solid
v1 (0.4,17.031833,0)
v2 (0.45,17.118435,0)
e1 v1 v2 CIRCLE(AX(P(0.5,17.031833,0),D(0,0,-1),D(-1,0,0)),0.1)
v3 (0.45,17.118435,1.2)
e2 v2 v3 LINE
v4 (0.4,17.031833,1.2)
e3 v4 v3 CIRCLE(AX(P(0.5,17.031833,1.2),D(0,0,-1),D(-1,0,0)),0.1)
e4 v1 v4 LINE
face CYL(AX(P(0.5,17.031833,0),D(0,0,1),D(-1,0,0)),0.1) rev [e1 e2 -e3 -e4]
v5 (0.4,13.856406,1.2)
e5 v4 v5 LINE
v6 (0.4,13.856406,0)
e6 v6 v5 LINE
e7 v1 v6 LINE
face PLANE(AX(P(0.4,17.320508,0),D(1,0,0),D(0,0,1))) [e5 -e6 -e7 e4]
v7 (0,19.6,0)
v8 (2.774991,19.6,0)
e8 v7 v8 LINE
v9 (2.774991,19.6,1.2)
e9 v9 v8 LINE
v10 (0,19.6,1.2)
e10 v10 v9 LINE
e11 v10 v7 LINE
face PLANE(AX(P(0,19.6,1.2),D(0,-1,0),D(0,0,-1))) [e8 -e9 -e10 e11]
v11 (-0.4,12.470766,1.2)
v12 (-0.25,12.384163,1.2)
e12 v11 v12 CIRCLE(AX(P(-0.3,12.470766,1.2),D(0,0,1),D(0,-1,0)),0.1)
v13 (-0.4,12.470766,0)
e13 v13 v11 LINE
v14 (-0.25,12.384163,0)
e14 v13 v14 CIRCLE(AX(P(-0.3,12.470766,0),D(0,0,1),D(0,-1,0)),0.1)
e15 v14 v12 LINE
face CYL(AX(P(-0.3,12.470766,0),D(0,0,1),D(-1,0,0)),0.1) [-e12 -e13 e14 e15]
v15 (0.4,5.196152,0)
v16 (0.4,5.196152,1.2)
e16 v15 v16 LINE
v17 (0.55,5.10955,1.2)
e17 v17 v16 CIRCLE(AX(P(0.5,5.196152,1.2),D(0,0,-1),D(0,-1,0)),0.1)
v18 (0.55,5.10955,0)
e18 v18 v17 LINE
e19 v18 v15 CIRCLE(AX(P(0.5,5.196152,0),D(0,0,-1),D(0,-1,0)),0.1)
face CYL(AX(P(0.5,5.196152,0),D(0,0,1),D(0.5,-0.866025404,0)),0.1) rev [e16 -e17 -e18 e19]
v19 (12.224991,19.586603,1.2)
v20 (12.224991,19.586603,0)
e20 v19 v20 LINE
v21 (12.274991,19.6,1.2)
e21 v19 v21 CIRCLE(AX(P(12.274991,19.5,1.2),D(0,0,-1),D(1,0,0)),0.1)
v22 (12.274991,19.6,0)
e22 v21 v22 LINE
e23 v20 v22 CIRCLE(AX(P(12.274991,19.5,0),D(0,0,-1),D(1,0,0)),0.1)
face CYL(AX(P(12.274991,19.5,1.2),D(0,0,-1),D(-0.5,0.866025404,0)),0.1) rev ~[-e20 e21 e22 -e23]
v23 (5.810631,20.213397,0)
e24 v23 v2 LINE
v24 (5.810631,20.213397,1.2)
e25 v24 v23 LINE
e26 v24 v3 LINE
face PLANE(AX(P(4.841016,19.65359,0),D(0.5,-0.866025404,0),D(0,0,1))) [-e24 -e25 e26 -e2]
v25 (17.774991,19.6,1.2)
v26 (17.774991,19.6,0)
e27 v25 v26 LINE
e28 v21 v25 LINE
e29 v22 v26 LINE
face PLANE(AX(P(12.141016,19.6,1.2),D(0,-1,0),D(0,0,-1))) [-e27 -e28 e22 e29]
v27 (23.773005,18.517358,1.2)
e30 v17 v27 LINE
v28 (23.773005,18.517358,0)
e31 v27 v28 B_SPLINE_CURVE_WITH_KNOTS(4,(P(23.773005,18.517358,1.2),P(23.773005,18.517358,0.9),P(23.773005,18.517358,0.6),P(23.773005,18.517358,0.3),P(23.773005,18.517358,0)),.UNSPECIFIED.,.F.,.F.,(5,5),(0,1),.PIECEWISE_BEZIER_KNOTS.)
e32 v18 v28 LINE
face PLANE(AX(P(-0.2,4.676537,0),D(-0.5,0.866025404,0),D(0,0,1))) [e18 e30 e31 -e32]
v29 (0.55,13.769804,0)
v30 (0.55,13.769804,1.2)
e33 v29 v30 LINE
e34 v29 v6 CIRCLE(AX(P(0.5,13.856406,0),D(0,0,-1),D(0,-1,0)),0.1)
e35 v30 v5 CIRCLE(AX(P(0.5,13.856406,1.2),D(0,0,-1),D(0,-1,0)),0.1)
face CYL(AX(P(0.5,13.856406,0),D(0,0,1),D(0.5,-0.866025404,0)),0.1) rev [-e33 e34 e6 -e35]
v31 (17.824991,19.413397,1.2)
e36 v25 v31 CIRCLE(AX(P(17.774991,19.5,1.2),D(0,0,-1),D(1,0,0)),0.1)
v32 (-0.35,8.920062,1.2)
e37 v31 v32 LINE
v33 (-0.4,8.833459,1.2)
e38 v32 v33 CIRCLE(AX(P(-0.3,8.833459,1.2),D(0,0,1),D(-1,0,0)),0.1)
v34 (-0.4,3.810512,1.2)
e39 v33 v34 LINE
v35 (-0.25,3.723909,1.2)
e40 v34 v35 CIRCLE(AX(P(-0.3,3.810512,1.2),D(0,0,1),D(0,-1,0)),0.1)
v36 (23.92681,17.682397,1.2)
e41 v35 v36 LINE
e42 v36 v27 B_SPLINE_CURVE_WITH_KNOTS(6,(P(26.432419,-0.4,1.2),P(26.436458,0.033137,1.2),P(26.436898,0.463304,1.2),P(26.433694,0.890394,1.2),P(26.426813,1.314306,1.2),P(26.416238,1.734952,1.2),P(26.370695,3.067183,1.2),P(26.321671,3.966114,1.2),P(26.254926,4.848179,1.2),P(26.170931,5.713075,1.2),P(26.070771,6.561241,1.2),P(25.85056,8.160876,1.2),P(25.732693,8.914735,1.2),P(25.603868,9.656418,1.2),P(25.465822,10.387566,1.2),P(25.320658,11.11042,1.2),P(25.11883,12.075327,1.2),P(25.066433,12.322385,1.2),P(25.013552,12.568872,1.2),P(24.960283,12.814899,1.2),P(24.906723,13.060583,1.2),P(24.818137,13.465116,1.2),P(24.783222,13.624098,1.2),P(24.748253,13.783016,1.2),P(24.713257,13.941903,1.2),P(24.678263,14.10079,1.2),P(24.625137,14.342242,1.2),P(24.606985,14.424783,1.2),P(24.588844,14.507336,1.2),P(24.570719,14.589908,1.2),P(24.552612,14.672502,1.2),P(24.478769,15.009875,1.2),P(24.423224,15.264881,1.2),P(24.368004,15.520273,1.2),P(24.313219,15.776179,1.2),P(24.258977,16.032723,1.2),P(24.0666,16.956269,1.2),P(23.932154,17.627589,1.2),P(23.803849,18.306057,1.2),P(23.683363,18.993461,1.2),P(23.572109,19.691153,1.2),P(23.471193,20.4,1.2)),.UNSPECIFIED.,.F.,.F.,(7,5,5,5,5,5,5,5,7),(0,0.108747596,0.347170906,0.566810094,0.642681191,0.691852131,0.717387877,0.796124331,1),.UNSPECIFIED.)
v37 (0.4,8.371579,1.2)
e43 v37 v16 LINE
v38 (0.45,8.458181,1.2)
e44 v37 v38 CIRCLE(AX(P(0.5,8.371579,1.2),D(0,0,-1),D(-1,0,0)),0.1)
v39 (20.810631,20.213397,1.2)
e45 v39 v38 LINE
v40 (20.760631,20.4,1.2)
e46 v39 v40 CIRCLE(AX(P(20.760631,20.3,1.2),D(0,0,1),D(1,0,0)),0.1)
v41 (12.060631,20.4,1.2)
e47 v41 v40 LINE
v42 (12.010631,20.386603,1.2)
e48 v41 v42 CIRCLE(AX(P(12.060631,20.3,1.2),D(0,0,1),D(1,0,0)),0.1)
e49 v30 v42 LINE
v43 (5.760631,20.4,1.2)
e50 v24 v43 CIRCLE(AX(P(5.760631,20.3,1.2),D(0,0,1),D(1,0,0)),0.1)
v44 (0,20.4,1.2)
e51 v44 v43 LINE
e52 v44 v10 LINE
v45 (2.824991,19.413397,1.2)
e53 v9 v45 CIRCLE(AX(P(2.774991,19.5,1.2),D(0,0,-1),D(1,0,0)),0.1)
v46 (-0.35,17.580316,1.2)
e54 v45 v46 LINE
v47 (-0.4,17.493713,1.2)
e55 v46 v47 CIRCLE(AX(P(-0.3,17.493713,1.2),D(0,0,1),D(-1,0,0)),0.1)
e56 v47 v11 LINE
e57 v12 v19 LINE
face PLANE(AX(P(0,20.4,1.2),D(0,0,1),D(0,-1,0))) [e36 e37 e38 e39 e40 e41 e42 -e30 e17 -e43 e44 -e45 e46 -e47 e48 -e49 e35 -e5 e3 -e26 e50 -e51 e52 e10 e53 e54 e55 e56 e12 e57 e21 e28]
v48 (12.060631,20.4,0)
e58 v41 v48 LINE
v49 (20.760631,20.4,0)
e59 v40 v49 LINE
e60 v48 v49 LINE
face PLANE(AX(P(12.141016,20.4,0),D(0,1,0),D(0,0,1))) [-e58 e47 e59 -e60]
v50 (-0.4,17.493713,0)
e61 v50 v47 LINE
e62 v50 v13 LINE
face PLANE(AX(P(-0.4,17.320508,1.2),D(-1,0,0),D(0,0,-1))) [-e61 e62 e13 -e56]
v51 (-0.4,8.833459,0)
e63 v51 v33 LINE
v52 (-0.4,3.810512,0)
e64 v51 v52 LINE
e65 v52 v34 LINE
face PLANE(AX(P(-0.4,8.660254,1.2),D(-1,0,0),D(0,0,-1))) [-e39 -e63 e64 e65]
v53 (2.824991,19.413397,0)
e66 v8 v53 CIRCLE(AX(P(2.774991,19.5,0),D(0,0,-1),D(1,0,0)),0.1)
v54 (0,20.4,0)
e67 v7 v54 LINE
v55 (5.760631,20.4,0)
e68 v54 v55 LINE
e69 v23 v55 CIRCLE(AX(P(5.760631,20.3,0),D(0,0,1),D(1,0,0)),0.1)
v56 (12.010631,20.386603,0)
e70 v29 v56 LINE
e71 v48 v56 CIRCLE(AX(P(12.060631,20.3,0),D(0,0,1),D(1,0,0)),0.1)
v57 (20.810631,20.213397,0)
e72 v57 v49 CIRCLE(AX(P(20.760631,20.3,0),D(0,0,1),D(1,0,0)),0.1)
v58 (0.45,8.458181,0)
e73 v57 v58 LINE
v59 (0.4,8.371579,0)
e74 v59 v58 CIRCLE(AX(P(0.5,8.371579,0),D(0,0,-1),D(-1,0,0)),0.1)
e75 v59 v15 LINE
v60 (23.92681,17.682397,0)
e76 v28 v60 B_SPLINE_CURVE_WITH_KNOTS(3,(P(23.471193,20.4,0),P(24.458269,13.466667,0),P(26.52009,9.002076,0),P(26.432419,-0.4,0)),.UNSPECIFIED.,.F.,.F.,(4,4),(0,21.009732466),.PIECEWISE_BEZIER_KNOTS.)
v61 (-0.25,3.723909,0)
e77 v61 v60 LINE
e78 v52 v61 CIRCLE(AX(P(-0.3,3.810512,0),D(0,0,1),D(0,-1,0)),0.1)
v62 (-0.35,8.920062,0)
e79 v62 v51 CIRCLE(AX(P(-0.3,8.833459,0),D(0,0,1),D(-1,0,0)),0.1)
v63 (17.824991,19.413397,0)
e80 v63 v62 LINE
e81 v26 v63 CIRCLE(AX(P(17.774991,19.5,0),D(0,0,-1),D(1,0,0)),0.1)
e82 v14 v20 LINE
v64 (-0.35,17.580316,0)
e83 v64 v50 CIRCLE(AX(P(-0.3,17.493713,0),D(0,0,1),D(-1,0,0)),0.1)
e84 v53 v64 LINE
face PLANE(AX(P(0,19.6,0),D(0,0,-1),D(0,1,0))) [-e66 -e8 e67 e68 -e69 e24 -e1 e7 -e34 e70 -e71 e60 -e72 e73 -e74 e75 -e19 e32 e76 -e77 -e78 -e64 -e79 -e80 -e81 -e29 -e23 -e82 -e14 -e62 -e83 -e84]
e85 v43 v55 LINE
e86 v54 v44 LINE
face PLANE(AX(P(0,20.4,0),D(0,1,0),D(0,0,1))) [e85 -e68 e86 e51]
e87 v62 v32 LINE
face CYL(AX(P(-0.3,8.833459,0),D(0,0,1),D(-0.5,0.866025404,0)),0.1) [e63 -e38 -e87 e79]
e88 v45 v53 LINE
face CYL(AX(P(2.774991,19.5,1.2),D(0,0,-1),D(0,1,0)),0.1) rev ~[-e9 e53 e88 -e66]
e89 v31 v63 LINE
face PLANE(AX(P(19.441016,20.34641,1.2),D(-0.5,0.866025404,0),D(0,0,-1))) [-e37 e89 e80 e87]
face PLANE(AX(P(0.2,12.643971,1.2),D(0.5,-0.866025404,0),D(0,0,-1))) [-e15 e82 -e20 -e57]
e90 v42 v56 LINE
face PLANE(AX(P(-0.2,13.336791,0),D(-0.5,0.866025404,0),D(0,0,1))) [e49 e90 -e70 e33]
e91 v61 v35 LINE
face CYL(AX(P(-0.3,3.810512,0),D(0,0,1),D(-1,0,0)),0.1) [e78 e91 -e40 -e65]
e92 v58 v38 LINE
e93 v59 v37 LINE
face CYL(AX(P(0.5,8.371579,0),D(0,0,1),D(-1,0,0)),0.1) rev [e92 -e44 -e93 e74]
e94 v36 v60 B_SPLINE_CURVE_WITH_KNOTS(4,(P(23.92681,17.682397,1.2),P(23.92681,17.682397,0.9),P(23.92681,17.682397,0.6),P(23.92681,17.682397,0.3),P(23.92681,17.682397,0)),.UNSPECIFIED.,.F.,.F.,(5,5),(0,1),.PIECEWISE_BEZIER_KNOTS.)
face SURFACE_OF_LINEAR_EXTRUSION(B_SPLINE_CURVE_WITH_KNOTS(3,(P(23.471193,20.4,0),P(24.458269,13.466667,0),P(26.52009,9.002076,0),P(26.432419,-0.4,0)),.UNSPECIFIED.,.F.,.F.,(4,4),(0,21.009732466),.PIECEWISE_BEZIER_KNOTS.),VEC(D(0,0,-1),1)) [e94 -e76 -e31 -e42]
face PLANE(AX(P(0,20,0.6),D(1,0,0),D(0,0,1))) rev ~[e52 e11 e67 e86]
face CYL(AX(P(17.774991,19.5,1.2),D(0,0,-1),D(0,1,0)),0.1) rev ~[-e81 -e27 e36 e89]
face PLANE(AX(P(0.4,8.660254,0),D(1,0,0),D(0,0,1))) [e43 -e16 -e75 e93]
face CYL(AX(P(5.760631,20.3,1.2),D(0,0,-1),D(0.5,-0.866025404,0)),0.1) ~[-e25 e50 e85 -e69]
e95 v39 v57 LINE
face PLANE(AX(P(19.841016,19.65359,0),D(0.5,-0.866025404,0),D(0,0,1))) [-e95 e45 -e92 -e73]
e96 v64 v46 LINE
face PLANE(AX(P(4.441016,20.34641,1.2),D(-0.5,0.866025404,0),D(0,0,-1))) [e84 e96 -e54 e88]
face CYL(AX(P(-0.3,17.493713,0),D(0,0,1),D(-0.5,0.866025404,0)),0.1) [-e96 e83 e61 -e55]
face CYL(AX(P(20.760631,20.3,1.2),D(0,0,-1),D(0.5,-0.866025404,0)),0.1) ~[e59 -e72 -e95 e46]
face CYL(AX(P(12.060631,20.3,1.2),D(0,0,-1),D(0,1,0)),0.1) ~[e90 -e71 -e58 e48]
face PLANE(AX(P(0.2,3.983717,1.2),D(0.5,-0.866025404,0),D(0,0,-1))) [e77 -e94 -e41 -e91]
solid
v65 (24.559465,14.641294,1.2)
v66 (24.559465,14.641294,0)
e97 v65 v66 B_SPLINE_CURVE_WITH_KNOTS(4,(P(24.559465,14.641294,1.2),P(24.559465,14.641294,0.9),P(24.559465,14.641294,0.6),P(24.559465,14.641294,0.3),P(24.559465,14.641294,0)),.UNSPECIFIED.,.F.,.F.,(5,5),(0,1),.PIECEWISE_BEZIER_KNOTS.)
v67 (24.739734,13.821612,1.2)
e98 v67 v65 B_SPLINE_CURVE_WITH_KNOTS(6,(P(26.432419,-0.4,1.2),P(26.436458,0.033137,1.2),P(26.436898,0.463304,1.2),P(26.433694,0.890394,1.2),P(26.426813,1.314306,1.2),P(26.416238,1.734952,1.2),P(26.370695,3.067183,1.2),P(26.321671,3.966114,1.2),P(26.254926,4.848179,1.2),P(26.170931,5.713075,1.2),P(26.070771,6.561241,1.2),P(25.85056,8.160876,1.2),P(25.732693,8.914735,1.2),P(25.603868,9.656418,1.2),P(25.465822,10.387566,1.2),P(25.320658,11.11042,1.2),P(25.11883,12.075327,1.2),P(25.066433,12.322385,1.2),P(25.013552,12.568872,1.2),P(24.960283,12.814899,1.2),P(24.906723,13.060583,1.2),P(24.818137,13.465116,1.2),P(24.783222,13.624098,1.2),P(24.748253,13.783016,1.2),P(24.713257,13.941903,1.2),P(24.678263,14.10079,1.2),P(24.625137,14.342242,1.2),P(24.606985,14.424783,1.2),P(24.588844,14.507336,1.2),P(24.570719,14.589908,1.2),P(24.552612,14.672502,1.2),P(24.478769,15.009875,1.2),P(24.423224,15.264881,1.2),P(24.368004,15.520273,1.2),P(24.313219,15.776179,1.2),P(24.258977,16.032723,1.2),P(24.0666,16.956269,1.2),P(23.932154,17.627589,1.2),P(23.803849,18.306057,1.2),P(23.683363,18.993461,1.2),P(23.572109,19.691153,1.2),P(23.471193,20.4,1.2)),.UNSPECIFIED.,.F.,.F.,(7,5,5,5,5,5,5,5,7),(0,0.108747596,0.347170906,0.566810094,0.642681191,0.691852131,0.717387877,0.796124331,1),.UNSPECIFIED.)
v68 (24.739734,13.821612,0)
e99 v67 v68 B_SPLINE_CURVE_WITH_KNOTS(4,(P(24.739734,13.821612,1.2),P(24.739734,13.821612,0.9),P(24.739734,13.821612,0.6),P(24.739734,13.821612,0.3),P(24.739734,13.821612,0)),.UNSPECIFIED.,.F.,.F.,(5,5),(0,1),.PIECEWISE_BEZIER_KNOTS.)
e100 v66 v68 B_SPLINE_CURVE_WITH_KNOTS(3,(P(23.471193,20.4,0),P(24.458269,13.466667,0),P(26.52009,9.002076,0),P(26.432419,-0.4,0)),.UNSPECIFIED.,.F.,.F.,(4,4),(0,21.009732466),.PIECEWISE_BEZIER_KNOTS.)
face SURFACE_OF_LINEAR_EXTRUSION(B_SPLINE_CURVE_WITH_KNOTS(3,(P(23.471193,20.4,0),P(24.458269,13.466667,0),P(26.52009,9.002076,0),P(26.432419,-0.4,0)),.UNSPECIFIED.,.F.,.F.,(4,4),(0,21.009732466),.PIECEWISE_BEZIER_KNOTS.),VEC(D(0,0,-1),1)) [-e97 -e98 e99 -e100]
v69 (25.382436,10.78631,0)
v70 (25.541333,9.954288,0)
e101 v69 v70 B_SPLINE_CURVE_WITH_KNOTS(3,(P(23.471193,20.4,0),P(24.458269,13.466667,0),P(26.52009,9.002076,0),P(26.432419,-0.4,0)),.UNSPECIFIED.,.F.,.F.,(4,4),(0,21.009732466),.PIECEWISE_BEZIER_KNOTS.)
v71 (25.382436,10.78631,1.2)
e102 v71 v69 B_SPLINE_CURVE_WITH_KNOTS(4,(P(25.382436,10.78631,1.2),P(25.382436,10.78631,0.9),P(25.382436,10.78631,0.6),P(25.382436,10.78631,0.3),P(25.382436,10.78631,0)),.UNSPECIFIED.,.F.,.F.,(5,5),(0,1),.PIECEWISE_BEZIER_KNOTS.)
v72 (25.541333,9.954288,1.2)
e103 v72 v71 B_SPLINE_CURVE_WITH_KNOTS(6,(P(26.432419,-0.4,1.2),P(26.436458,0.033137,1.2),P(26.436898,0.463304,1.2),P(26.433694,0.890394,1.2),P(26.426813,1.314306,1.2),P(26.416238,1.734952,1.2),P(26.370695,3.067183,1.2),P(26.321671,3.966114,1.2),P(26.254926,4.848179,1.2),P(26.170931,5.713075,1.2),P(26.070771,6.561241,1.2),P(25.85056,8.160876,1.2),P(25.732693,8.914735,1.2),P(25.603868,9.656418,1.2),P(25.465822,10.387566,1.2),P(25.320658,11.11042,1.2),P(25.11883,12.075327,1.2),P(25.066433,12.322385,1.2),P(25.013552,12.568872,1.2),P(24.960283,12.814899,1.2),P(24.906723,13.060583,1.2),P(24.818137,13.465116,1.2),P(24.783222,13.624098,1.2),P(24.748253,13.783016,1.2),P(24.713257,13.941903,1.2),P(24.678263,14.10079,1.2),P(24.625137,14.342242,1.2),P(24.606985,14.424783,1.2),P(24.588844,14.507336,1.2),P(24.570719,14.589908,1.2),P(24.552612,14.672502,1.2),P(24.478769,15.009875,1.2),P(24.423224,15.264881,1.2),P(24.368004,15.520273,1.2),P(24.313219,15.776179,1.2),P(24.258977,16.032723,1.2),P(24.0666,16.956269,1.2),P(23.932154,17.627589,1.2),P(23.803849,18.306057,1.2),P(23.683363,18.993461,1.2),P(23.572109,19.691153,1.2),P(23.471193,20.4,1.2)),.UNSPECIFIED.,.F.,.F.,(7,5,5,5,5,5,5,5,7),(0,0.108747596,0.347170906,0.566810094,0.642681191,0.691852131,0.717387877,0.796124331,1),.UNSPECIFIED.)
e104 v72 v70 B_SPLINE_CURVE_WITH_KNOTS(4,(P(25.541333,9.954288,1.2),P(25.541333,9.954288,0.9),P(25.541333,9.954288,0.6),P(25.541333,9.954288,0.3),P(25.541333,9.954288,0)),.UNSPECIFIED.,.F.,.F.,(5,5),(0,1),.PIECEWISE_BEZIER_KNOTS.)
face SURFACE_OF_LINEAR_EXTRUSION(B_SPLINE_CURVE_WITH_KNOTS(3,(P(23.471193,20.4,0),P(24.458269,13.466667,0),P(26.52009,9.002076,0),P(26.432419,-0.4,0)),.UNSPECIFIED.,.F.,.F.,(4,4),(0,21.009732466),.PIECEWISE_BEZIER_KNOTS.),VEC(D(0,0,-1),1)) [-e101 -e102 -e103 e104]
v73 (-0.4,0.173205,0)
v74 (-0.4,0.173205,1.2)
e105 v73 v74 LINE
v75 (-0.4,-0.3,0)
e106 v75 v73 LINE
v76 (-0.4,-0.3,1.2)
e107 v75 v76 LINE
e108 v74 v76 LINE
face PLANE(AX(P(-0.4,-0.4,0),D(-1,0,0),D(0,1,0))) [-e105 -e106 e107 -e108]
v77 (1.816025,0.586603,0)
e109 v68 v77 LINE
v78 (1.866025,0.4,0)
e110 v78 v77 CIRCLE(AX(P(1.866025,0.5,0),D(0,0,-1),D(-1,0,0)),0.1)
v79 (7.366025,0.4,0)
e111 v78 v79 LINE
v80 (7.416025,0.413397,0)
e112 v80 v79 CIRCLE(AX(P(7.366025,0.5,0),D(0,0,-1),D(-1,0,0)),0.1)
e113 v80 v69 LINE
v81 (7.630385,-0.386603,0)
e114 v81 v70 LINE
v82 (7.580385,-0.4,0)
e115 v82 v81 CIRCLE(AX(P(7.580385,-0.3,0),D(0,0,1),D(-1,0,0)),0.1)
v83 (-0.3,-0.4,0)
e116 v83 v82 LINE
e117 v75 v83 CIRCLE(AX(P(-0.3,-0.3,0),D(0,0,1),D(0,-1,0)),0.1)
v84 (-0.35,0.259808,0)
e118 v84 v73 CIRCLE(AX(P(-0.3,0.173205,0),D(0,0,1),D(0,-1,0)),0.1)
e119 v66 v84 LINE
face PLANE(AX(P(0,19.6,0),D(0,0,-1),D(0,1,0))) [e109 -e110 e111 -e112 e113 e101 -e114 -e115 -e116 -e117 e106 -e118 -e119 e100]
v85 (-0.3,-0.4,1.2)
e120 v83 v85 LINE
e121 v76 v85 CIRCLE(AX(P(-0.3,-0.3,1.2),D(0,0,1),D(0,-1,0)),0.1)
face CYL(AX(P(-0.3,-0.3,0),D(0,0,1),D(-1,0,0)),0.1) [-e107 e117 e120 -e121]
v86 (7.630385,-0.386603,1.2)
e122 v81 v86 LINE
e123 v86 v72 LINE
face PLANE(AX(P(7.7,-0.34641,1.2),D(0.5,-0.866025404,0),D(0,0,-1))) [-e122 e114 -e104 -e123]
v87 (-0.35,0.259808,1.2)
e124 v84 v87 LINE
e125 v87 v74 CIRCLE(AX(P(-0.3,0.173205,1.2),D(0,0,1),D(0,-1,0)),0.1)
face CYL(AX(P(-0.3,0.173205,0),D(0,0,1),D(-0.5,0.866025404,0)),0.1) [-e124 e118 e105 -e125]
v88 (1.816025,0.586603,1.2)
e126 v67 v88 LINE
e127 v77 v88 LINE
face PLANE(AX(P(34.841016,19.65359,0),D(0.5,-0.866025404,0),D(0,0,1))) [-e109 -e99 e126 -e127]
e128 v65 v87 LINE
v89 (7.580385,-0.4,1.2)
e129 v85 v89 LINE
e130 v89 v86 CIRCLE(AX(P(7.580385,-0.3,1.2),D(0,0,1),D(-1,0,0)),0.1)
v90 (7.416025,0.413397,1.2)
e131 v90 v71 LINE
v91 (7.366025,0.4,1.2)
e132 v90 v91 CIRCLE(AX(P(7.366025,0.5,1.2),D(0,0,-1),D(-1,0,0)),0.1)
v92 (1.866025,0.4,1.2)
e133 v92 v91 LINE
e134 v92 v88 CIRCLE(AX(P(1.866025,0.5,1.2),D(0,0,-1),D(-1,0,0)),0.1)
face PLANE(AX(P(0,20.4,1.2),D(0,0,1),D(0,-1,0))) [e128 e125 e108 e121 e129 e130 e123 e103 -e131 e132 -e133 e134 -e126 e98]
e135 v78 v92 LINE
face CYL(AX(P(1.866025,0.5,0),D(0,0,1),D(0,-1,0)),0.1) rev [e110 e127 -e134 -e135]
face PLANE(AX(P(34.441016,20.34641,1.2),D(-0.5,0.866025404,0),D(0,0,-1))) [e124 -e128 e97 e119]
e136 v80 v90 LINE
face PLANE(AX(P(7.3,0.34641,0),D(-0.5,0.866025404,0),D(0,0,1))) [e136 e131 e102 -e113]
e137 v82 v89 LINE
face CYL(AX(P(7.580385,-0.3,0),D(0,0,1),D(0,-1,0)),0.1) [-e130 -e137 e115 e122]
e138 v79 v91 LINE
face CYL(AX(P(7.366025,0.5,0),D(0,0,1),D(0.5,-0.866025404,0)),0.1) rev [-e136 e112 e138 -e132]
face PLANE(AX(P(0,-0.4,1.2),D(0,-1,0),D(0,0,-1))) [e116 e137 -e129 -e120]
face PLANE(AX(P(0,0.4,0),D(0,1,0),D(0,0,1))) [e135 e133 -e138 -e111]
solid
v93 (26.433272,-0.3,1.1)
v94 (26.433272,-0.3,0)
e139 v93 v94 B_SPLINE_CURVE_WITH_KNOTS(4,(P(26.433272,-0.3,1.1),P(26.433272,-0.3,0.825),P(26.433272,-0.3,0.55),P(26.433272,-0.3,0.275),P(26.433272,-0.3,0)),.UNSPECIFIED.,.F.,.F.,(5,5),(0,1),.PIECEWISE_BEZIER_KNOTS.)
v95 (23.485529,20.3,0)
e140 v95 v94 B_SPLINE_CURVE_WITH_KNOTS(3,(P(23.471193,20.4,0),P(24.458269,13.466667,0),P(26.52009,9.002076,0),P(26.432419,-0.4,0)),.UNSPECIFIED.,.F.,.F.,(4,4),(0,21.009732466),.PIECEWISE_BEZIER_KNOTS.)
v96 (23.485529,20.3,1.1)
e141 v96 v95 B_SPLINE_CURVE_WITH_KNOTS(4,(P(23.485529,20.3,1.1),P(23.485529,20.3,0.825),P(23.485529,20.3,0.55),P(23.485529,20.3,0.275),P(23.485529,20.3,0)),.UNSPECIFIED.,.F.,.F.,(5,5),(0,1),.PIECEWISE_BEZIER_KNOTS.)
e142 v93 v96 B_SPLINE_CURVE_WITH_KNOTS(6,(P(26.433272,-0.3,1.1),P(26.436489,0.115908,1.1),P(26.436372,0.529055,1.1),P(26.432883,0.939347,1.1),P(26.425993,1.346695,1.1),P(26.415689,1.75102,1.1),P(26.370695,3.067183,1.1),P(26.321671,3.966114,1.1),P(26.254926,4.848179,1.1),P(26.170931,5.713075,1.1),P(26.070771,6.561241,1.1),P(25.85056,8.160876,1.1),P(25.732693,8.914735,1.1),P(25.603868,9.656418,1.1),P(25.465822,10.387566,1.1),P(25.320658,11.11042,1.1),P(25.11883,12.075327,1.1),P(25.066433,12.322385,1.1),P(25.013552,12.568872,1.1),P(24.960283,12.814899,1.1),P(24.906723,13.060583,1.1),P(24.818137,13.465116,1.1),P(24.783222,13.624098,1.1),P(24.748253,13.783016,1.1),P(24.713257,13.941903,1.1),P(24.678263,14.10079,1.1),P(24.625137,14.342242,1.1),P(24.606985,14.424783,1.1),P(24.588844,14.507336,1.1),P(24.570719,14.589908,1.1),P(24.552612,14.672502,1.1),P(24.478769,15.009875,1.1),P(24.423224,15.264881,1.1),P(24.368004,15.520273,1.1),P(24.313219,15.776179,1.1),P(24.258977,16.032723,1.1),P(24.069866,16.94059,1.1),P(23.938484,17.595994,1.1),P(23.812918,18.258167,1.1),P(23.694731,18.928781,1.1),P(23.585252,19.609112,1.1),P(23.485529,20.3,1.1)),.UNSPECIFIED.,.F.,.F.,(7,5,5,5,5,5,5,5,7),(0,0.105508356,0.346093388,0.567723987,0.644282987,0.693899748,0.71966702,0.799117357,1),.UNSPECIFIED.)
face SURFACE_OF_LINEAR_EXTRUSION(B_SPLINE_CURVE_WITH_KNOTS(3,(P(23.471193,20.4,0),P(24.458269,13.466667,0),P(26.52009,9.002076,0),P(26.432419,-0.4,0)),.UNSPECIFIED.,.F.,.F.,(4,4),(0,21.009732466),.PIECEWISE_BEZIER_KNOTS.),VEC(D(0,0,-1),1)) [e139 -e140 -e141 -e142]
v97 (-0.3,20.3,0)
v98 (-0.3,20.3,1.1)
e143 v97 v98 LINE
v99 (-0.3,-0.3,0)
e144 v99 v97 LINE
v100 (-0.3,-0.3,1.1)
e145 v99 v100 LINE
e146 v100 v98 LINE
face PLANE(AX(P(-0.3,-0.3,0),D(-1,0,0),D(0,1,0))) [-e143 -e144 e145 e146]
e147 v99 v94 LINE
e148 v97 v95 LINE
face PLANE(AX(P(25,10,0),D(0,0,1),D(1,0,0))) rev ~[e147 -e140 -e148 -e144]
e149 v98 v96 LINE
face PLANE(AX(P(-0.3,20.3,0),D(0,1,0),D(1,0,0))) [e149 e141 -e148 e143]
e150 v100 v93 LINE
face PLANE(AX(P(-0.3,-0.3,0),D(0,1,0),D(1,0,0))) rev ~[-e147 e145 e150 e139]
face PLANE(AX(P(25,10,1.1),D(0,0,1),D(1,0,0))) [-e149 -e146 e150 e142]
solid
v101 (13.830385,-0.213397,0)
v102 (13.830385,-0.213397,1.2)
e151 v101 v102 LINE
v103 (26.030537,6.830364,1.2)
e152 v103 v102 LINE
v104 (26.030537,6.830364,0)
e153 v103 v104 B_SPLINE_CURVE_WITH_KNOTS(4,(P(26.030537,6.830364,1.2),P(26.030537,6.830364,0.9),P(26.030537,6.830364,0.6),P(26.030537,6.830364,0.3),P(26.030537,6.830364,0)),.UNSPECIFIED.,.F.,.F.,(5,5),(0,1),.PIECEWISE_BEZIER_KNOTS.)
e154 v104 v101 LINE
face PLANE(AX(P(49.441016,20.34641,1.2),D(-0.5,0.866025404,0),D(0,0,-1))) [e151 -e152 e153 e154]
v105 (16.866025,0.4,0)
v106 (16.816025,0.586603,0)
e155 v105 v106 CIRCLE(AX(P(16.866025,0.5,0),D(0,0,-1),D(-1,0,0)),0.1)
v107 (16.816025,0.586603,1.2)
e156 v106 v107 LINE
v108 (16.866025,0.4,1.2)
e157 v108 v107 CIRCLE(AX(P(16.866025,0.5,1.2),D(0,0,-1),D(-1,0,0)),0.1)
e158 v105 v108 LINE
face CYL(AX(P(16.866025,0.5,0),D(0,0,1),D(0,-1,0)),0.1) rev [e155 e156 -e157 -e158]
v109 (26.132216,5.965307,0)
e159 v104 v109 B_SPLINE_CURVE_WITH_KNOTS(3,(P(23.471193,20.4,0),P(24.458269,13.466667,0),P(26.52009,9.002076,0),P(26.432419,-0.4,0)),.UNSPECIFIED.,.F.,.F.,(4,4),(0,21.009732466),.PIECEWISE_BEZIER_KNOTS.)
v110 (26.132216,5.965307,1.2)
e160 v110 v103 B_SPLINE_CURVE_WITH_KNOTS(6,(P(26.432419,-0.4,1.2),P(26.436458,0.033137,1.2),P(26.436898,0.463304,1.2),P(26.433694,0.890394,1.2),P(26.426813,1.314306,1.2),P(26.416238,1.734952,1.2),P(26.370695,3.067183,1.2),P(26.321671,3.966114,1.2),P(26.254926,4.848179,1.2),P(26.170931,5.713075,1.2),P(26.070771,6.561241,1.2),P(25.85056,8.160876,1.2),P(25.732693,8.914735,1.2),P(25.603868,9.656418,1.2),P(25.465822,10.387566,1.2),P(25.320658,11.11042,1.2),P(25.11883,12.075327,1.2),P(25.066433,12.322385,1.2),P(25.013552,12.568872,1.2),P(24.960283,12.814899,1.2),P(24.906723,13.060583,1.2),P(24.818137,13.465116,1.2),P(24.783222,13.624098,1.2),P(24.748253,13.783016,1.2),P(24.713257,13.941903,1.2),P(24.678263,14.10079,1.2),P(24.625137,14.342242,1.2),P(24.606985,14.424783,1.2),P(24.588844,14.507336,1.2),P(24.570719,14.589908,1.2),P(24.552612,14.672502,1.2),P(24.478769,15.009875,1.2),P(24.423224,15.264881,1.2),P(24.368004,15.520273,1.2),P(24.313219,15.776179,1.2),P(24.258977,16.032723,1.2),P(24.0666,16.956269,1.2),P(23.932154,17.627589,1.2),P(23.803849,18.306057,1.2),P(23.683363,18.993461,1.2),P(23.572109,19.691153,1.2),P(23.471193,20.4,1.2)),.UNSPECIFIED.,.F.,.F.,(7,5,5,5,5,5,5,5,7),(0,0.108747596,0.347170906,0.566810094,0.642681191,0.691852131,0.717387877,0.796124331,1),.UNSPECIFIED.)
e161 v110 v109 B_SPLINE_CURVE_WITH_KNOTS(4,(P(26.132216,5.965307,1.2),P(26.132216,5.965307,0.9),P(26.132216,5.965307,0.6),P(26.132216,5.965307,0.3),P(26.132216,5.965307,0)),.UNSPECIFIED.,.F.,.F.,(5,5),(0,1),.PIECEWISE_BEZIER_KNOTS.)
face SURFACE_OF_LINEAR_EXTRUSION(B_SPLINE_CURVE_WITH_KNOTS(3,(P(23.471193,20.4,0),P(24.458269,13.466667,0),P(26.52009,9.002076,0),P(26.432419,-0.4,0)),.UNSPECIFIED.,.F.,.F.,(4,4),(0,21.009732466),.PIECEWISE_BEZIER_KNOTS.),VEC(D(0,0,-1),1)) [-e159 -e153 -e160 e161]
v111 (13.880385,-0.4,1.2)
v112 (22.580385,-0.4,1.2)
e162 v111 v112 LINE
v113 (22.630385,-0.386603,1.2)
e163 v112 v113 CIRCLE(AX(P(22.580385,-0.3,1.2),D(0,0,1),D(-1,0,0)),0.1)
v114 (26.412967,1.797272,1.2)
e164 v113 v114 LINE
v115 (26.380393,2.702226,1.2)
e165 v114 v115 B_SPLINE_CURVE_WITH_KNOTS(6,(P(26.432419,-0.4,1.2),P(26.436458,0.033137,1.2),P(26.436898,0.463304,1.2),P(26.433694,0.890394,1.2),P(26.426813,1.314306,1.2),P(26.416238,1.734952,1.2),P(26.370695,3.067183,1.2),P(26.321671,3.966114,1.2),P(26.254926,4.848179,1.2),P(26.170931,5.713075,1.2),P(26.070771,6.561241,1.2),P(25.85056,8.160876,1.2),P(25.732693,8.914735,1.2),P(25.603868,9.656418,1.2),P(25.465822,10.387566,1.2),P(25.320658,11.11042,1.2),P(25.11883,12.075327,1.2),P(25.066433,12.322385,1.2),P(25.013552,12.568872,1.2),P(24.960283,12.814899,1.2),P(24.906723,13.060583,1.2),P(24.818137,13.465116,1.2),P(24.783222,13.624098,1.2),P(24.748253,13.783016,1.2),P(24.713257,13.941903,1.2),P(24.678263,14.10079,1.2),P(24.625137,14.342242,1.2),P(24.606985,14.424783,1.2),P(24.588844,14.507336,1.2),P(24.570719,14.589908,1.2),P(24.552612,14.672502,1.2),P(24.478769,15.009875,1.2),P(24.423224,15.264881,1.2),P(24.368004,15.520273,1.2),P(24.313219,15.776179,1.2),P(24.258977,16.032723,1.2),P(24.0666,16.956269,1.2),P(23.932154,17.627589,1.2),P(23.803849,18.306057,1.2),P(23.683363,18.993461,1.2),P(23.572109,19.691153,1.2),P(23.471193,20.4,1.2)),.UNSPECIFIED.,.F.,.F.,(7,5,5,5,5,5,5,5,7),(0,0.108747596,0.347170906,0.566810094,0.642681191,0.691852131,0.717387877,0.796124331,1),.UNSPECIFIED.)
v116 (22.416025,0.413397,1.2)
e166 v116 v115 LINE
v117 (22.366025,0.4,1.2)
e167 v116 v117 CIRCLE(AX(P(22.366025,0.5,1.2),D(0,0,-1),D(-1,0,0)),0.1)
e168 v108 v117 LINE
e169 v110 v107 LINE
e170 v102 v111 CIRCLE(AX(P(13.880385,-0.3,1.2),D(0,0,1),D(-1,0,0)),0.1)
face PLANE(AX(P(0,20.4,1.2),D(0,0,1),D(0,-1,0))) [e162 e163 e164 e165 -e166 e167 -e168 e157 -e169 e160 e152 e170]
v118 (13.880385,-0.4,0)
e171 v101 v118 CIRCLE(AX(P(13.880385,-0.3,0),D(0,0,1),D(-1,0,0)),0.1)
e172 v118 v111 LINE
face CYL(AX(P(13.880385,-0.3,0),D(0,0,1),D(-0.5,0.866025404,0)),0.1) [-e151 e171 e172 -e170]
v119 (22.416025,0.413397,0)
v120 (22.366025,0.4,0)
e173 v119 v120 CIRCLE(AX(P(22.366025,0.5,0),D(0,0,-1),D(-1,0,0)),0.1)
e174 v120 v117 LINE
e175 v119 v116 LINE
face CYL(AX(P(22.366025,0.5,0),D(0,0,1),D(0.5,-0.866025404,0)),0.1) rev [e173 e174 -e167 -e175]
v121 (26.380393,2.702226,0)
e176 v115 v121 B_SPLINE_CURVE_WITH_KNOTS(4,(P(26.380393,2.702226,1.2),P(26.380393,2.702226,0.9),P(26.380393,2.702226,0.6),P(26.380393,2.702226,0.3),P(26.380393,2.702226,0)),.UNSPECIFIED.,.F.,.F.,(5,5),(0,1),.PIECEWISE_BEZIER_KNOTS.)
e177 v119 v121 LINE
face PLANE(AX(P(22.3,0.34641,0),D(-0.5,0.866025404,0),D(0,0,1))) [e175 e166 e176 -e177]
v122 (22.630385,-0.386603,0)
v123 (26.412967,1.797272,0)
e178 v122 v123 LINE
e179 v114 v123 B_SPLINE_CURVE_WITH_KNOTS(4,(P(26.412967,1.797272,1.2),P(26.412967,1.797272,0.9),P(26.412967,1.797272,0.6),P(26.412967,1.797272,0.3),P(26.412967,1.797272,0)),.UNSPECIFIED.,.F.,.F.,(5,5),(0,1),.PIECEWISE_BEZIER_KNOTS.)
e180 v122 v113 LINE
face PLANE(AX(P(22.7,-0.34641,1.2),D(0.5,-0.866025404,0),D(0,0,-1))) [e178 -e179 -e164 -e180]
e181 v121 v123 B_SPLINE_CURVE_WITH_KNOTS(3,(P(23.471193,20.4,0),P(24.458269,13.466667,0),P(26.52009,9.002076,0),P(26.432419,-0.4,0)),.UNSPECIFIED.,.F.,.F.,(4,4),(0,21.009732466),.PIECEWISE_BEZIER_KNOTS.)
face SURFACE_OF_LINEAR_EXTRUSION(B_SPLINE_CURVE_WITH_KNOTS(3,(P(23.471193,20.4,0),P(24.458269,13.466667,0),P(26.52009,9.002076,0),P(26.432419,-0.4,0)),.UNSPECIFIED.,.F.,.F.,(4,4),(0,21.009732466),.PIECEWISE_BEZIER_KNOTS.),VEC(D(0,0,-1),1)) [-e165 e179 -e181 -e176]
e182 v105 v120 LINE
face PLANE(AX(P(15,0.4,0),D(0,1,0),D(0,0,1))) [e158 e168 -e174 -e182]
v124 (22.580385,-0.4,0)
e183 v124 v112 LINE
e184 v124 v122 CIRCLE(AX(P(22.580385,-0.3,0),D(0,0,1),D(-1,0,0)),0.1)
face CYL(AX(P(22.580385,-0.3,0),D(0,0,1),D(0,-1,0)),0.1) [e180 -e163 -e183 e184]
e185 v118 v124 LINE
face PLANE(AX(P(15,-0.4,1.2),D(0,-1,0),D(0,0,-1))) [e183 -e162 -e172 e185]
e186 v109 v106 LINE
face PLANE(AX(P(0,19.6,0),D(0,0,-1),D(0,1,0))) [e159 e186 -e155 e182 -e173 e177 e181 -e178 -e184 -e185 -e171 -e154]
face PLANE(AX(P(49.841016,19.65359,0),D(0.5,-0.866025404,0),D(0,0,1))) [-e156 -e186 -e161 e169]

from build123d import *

# Parameters (mm, degrees)
F6_W      = 62.8235205077
F6_H      = 37.2700802982
F7_DEPTH  = 25
F9_W      = 50.6
F9_H      = 20.6
F10_DEPTH = 1.1
F11_R     = 0.1
F13_DEPTH = 25


with BuildPart() as f5:
    # F5: sweep along a path in F2
    with BuildLine(Plane.XY) as f5_path:
        Line((0, 20), (4.6410161514, 20))
        Line((4.6410161514, 20), (0, 17.3205080757))
        Line((0, 17.3205080757), (0, 12.9903810568))
        Line((0, 12.9903810568), (12.1410161514, 20))
        Line((12.1410161514, 20), (19.6410161514, 20))
        Line((19.6410161514, 20), (0, 8.6602540378))
        Line((0, 8.6602540378), (0, 4.3301270189))
        Line((0, 4.3301270189), (27.1410161514, 20))
        Line((27.1410161514, 20), (34.6410161514, 20))
        Line((34.6410161514, 20), (0, 0))
        Line((0, 0), (7.5, 0))
        Line((7.5, 0), (42.1410161514, 20))
        Line((42.1410161514, 20), (49.6410161514, 20))
        Line((49.6410161514, 20), (15, 0))
        Line((15, 0), (22.5, 0))
        Line((22.5, 0), (50, 15.8771324027))
        Line((50, 15.8771324027), (50, 11.5470053838))
        Line((50, 11.5470053838), (30, 0))
        Line((30, 0), (37.5, 0))
        Line((37.5, 0), (50, 7.2168783649))
        Line((50, 7.2168783649), (50, 2.8867513459))
        Line((50, 2.8867513459), (45, 0))
        Line((45, 0), (50, 0))
    # F4 (on line) → F5 (sweep)
    with BuildSketch(Plane.YZ):
        Polygon((19.6, 0), (20, 0), (20.4, 0), (20.4, 1.2), (20, 1.2), (19.6, 1.2), align=None)
    sweep(path=f5_path.line, transition=Transition.RIGHT)


with BuildPart() as f7:
    # F6 (on Top) → F7 (new body)
    with BuildSketch(Plane.XY):
        with Locations((25.02031927, 9.5404535532)):
            Rectangle(F6_W, F6_H)
        Polygon((-0.4, 3.6373066959), (-0.4, 8.8911941455), (-0.4, 20.4), (0, 20.4), (6.1338364744, 20.4), (50.4, 20.4), (50.4, 16.5699527257), (50.4, 11.3160652761), (50.4, -0.4), (37.607179677, -0.4), (28.507179677, -0.4), (-0.4, -0.4), align=None, mode=Mode.SUBTRACT)
    extrude(amount=F7_DEPTH)


with BuildPart() as f5_1:
    add(f5.part)

    # F8: cut F7
    add(f7.part, mode=Mode.SUBTRACT)

    # F11
    f11_edges = [f5_1.edges().sort_by_distance(p)[0] for p in [
        (-0.4, 17.551448, 0.6),
        (3.148196, 19.6, 0.6),
        (6.133836, 20.4, 0.6),
        (0.4, 17.089568, 0.6),
        (0.4, 13.683201, 0.6),
        (-0.4, 12.297561, 0.6),
        (12.248196, 19.6, 0.6),
        (12.033836, 20.4, 0.6),
        (18.148196, 19.6, 0.6),
        (21.133836, 20.4, 0.6),
        (27.033836, 20.4, 0.6),
        (-0.4, 8.891194, 0.6),
        (0.4, 8.429314, 0.6),
        (0.4, 5.022947, 0.6),
        (-0.4, 3.637307, 0.6),
        (27.248196, 19.6, 0.6),
        (33.148196, 19.6, 0.6),
        (36.133836, 20.4, 0.6),
        (42.033836, 20.4, 0.6),
        (-0.4, 0.23094, 0.6),
        (1.49282, 0.4, 0.6),
        (-0.4, -0.4, 0.6),
        (7.39282, 0.4, 0.6),
        (7.60718, -0.4, 0.6),
        (42.248196, 19.6, 0.6),
        (48.148196, 19.6, 0.6),
        (50.4, 20.4, 0.6),
        (50.4, 19.976319, 0.6),
        (50.4, 16.569953, 0.6),
        (49.6, 15.184312, 0.6),
        (49.6, 11.777945, 0.6),
        (50.4, 11.316065, 0.6),
        (28.50718, -0.4, 0.6),
        (31.49282, 0.4, 0.6),
        (22.60718, -0.4, 0.6),
        (13.50718, -0.4, 0.6),
        (16.49282, 0.4, 0.6),
        (37.39282, 0.4, 0.6),
        (22.39282, 0.4, 0.6),
        (50.4, 7.909699, 0.6),
        (49.6, 6.524058, 0.6),
        (37.60718, -0.4, 0.6),
        (43.50718, -0.4, 0.6),
        (50.4, 2.655811, 0.6),
        (46.49282, 0.4, 0.6),
        (49.6, 3.117691, 0.6),
    ]]
    fillet(f11_edges, radius=F11_R)


with BuildPart() as f10:
    # F9 (on Top) → F10 (new body)
    with BuildSketch(Plane.XY):
        with Locations((25, 10)):
            Rectangle(F9_W, F9_H)
    extrude(amount=F10_DEPTH)


with BuildPart() as f13:
    # F12 (on Top) → F13 (new body)
    with BuildSketch(Plane.XY):
        with BuildLine():
            Line((50.3, 20.4), (42.0606313936, 20.4))
            Line((42.0606313936, 20.4), (33.2614853978, 20.4))
            Line((33.2614853978, 20.4), (23.4711933881, 20.4))
            add(Edge.make_bspline(
                [(23.4711933881, 20.4), (24.4582686573, 13.4666666667), (26.5200901777, 9.0020764619), (26.4324191958, -0.4)],
                knots=[0, 0, 0, 0, 21.0097324658, 21.0097324658, 21.0097324658, 21.0097324658], degree=3))
            Line((26.4324191958, -0.4), (33.2614853978, -0.4))
            Line((33.2614853978, -0.4), (41.2410050631, -0.4))
            Line((41.2410050631, -0.4), (43.8803847577, -0.4))
            Line((43.8803847577, -0.4), (50, -0.4))
            Line((50, -0.4), (50.4, -0.4))
            Line((50.4, -0.4), (50.4, 11.373800303))
            Line((50.4, 11.373800303), (50.4, 16.396747645))
            Line((50.4, 16.396747645), (50.4, 20.4))
            Line((50.4, 20.4), (50.3, 20.4))
        make_face()
    extrude(amount=F13_DEPTH)


with BuildPart() as f10_1:
    add(f10.part)

    # F14: cut F13
    add(f13.part, mode=Mode.SUBTRACT)


with BuildPart() as f5_2:
    add(f5_1.part)

    # F14: cut F13
    add(f13.part, mode=Mode.SUBTRACT)


solid = Compound([f10_1.part, f5_2.part])
